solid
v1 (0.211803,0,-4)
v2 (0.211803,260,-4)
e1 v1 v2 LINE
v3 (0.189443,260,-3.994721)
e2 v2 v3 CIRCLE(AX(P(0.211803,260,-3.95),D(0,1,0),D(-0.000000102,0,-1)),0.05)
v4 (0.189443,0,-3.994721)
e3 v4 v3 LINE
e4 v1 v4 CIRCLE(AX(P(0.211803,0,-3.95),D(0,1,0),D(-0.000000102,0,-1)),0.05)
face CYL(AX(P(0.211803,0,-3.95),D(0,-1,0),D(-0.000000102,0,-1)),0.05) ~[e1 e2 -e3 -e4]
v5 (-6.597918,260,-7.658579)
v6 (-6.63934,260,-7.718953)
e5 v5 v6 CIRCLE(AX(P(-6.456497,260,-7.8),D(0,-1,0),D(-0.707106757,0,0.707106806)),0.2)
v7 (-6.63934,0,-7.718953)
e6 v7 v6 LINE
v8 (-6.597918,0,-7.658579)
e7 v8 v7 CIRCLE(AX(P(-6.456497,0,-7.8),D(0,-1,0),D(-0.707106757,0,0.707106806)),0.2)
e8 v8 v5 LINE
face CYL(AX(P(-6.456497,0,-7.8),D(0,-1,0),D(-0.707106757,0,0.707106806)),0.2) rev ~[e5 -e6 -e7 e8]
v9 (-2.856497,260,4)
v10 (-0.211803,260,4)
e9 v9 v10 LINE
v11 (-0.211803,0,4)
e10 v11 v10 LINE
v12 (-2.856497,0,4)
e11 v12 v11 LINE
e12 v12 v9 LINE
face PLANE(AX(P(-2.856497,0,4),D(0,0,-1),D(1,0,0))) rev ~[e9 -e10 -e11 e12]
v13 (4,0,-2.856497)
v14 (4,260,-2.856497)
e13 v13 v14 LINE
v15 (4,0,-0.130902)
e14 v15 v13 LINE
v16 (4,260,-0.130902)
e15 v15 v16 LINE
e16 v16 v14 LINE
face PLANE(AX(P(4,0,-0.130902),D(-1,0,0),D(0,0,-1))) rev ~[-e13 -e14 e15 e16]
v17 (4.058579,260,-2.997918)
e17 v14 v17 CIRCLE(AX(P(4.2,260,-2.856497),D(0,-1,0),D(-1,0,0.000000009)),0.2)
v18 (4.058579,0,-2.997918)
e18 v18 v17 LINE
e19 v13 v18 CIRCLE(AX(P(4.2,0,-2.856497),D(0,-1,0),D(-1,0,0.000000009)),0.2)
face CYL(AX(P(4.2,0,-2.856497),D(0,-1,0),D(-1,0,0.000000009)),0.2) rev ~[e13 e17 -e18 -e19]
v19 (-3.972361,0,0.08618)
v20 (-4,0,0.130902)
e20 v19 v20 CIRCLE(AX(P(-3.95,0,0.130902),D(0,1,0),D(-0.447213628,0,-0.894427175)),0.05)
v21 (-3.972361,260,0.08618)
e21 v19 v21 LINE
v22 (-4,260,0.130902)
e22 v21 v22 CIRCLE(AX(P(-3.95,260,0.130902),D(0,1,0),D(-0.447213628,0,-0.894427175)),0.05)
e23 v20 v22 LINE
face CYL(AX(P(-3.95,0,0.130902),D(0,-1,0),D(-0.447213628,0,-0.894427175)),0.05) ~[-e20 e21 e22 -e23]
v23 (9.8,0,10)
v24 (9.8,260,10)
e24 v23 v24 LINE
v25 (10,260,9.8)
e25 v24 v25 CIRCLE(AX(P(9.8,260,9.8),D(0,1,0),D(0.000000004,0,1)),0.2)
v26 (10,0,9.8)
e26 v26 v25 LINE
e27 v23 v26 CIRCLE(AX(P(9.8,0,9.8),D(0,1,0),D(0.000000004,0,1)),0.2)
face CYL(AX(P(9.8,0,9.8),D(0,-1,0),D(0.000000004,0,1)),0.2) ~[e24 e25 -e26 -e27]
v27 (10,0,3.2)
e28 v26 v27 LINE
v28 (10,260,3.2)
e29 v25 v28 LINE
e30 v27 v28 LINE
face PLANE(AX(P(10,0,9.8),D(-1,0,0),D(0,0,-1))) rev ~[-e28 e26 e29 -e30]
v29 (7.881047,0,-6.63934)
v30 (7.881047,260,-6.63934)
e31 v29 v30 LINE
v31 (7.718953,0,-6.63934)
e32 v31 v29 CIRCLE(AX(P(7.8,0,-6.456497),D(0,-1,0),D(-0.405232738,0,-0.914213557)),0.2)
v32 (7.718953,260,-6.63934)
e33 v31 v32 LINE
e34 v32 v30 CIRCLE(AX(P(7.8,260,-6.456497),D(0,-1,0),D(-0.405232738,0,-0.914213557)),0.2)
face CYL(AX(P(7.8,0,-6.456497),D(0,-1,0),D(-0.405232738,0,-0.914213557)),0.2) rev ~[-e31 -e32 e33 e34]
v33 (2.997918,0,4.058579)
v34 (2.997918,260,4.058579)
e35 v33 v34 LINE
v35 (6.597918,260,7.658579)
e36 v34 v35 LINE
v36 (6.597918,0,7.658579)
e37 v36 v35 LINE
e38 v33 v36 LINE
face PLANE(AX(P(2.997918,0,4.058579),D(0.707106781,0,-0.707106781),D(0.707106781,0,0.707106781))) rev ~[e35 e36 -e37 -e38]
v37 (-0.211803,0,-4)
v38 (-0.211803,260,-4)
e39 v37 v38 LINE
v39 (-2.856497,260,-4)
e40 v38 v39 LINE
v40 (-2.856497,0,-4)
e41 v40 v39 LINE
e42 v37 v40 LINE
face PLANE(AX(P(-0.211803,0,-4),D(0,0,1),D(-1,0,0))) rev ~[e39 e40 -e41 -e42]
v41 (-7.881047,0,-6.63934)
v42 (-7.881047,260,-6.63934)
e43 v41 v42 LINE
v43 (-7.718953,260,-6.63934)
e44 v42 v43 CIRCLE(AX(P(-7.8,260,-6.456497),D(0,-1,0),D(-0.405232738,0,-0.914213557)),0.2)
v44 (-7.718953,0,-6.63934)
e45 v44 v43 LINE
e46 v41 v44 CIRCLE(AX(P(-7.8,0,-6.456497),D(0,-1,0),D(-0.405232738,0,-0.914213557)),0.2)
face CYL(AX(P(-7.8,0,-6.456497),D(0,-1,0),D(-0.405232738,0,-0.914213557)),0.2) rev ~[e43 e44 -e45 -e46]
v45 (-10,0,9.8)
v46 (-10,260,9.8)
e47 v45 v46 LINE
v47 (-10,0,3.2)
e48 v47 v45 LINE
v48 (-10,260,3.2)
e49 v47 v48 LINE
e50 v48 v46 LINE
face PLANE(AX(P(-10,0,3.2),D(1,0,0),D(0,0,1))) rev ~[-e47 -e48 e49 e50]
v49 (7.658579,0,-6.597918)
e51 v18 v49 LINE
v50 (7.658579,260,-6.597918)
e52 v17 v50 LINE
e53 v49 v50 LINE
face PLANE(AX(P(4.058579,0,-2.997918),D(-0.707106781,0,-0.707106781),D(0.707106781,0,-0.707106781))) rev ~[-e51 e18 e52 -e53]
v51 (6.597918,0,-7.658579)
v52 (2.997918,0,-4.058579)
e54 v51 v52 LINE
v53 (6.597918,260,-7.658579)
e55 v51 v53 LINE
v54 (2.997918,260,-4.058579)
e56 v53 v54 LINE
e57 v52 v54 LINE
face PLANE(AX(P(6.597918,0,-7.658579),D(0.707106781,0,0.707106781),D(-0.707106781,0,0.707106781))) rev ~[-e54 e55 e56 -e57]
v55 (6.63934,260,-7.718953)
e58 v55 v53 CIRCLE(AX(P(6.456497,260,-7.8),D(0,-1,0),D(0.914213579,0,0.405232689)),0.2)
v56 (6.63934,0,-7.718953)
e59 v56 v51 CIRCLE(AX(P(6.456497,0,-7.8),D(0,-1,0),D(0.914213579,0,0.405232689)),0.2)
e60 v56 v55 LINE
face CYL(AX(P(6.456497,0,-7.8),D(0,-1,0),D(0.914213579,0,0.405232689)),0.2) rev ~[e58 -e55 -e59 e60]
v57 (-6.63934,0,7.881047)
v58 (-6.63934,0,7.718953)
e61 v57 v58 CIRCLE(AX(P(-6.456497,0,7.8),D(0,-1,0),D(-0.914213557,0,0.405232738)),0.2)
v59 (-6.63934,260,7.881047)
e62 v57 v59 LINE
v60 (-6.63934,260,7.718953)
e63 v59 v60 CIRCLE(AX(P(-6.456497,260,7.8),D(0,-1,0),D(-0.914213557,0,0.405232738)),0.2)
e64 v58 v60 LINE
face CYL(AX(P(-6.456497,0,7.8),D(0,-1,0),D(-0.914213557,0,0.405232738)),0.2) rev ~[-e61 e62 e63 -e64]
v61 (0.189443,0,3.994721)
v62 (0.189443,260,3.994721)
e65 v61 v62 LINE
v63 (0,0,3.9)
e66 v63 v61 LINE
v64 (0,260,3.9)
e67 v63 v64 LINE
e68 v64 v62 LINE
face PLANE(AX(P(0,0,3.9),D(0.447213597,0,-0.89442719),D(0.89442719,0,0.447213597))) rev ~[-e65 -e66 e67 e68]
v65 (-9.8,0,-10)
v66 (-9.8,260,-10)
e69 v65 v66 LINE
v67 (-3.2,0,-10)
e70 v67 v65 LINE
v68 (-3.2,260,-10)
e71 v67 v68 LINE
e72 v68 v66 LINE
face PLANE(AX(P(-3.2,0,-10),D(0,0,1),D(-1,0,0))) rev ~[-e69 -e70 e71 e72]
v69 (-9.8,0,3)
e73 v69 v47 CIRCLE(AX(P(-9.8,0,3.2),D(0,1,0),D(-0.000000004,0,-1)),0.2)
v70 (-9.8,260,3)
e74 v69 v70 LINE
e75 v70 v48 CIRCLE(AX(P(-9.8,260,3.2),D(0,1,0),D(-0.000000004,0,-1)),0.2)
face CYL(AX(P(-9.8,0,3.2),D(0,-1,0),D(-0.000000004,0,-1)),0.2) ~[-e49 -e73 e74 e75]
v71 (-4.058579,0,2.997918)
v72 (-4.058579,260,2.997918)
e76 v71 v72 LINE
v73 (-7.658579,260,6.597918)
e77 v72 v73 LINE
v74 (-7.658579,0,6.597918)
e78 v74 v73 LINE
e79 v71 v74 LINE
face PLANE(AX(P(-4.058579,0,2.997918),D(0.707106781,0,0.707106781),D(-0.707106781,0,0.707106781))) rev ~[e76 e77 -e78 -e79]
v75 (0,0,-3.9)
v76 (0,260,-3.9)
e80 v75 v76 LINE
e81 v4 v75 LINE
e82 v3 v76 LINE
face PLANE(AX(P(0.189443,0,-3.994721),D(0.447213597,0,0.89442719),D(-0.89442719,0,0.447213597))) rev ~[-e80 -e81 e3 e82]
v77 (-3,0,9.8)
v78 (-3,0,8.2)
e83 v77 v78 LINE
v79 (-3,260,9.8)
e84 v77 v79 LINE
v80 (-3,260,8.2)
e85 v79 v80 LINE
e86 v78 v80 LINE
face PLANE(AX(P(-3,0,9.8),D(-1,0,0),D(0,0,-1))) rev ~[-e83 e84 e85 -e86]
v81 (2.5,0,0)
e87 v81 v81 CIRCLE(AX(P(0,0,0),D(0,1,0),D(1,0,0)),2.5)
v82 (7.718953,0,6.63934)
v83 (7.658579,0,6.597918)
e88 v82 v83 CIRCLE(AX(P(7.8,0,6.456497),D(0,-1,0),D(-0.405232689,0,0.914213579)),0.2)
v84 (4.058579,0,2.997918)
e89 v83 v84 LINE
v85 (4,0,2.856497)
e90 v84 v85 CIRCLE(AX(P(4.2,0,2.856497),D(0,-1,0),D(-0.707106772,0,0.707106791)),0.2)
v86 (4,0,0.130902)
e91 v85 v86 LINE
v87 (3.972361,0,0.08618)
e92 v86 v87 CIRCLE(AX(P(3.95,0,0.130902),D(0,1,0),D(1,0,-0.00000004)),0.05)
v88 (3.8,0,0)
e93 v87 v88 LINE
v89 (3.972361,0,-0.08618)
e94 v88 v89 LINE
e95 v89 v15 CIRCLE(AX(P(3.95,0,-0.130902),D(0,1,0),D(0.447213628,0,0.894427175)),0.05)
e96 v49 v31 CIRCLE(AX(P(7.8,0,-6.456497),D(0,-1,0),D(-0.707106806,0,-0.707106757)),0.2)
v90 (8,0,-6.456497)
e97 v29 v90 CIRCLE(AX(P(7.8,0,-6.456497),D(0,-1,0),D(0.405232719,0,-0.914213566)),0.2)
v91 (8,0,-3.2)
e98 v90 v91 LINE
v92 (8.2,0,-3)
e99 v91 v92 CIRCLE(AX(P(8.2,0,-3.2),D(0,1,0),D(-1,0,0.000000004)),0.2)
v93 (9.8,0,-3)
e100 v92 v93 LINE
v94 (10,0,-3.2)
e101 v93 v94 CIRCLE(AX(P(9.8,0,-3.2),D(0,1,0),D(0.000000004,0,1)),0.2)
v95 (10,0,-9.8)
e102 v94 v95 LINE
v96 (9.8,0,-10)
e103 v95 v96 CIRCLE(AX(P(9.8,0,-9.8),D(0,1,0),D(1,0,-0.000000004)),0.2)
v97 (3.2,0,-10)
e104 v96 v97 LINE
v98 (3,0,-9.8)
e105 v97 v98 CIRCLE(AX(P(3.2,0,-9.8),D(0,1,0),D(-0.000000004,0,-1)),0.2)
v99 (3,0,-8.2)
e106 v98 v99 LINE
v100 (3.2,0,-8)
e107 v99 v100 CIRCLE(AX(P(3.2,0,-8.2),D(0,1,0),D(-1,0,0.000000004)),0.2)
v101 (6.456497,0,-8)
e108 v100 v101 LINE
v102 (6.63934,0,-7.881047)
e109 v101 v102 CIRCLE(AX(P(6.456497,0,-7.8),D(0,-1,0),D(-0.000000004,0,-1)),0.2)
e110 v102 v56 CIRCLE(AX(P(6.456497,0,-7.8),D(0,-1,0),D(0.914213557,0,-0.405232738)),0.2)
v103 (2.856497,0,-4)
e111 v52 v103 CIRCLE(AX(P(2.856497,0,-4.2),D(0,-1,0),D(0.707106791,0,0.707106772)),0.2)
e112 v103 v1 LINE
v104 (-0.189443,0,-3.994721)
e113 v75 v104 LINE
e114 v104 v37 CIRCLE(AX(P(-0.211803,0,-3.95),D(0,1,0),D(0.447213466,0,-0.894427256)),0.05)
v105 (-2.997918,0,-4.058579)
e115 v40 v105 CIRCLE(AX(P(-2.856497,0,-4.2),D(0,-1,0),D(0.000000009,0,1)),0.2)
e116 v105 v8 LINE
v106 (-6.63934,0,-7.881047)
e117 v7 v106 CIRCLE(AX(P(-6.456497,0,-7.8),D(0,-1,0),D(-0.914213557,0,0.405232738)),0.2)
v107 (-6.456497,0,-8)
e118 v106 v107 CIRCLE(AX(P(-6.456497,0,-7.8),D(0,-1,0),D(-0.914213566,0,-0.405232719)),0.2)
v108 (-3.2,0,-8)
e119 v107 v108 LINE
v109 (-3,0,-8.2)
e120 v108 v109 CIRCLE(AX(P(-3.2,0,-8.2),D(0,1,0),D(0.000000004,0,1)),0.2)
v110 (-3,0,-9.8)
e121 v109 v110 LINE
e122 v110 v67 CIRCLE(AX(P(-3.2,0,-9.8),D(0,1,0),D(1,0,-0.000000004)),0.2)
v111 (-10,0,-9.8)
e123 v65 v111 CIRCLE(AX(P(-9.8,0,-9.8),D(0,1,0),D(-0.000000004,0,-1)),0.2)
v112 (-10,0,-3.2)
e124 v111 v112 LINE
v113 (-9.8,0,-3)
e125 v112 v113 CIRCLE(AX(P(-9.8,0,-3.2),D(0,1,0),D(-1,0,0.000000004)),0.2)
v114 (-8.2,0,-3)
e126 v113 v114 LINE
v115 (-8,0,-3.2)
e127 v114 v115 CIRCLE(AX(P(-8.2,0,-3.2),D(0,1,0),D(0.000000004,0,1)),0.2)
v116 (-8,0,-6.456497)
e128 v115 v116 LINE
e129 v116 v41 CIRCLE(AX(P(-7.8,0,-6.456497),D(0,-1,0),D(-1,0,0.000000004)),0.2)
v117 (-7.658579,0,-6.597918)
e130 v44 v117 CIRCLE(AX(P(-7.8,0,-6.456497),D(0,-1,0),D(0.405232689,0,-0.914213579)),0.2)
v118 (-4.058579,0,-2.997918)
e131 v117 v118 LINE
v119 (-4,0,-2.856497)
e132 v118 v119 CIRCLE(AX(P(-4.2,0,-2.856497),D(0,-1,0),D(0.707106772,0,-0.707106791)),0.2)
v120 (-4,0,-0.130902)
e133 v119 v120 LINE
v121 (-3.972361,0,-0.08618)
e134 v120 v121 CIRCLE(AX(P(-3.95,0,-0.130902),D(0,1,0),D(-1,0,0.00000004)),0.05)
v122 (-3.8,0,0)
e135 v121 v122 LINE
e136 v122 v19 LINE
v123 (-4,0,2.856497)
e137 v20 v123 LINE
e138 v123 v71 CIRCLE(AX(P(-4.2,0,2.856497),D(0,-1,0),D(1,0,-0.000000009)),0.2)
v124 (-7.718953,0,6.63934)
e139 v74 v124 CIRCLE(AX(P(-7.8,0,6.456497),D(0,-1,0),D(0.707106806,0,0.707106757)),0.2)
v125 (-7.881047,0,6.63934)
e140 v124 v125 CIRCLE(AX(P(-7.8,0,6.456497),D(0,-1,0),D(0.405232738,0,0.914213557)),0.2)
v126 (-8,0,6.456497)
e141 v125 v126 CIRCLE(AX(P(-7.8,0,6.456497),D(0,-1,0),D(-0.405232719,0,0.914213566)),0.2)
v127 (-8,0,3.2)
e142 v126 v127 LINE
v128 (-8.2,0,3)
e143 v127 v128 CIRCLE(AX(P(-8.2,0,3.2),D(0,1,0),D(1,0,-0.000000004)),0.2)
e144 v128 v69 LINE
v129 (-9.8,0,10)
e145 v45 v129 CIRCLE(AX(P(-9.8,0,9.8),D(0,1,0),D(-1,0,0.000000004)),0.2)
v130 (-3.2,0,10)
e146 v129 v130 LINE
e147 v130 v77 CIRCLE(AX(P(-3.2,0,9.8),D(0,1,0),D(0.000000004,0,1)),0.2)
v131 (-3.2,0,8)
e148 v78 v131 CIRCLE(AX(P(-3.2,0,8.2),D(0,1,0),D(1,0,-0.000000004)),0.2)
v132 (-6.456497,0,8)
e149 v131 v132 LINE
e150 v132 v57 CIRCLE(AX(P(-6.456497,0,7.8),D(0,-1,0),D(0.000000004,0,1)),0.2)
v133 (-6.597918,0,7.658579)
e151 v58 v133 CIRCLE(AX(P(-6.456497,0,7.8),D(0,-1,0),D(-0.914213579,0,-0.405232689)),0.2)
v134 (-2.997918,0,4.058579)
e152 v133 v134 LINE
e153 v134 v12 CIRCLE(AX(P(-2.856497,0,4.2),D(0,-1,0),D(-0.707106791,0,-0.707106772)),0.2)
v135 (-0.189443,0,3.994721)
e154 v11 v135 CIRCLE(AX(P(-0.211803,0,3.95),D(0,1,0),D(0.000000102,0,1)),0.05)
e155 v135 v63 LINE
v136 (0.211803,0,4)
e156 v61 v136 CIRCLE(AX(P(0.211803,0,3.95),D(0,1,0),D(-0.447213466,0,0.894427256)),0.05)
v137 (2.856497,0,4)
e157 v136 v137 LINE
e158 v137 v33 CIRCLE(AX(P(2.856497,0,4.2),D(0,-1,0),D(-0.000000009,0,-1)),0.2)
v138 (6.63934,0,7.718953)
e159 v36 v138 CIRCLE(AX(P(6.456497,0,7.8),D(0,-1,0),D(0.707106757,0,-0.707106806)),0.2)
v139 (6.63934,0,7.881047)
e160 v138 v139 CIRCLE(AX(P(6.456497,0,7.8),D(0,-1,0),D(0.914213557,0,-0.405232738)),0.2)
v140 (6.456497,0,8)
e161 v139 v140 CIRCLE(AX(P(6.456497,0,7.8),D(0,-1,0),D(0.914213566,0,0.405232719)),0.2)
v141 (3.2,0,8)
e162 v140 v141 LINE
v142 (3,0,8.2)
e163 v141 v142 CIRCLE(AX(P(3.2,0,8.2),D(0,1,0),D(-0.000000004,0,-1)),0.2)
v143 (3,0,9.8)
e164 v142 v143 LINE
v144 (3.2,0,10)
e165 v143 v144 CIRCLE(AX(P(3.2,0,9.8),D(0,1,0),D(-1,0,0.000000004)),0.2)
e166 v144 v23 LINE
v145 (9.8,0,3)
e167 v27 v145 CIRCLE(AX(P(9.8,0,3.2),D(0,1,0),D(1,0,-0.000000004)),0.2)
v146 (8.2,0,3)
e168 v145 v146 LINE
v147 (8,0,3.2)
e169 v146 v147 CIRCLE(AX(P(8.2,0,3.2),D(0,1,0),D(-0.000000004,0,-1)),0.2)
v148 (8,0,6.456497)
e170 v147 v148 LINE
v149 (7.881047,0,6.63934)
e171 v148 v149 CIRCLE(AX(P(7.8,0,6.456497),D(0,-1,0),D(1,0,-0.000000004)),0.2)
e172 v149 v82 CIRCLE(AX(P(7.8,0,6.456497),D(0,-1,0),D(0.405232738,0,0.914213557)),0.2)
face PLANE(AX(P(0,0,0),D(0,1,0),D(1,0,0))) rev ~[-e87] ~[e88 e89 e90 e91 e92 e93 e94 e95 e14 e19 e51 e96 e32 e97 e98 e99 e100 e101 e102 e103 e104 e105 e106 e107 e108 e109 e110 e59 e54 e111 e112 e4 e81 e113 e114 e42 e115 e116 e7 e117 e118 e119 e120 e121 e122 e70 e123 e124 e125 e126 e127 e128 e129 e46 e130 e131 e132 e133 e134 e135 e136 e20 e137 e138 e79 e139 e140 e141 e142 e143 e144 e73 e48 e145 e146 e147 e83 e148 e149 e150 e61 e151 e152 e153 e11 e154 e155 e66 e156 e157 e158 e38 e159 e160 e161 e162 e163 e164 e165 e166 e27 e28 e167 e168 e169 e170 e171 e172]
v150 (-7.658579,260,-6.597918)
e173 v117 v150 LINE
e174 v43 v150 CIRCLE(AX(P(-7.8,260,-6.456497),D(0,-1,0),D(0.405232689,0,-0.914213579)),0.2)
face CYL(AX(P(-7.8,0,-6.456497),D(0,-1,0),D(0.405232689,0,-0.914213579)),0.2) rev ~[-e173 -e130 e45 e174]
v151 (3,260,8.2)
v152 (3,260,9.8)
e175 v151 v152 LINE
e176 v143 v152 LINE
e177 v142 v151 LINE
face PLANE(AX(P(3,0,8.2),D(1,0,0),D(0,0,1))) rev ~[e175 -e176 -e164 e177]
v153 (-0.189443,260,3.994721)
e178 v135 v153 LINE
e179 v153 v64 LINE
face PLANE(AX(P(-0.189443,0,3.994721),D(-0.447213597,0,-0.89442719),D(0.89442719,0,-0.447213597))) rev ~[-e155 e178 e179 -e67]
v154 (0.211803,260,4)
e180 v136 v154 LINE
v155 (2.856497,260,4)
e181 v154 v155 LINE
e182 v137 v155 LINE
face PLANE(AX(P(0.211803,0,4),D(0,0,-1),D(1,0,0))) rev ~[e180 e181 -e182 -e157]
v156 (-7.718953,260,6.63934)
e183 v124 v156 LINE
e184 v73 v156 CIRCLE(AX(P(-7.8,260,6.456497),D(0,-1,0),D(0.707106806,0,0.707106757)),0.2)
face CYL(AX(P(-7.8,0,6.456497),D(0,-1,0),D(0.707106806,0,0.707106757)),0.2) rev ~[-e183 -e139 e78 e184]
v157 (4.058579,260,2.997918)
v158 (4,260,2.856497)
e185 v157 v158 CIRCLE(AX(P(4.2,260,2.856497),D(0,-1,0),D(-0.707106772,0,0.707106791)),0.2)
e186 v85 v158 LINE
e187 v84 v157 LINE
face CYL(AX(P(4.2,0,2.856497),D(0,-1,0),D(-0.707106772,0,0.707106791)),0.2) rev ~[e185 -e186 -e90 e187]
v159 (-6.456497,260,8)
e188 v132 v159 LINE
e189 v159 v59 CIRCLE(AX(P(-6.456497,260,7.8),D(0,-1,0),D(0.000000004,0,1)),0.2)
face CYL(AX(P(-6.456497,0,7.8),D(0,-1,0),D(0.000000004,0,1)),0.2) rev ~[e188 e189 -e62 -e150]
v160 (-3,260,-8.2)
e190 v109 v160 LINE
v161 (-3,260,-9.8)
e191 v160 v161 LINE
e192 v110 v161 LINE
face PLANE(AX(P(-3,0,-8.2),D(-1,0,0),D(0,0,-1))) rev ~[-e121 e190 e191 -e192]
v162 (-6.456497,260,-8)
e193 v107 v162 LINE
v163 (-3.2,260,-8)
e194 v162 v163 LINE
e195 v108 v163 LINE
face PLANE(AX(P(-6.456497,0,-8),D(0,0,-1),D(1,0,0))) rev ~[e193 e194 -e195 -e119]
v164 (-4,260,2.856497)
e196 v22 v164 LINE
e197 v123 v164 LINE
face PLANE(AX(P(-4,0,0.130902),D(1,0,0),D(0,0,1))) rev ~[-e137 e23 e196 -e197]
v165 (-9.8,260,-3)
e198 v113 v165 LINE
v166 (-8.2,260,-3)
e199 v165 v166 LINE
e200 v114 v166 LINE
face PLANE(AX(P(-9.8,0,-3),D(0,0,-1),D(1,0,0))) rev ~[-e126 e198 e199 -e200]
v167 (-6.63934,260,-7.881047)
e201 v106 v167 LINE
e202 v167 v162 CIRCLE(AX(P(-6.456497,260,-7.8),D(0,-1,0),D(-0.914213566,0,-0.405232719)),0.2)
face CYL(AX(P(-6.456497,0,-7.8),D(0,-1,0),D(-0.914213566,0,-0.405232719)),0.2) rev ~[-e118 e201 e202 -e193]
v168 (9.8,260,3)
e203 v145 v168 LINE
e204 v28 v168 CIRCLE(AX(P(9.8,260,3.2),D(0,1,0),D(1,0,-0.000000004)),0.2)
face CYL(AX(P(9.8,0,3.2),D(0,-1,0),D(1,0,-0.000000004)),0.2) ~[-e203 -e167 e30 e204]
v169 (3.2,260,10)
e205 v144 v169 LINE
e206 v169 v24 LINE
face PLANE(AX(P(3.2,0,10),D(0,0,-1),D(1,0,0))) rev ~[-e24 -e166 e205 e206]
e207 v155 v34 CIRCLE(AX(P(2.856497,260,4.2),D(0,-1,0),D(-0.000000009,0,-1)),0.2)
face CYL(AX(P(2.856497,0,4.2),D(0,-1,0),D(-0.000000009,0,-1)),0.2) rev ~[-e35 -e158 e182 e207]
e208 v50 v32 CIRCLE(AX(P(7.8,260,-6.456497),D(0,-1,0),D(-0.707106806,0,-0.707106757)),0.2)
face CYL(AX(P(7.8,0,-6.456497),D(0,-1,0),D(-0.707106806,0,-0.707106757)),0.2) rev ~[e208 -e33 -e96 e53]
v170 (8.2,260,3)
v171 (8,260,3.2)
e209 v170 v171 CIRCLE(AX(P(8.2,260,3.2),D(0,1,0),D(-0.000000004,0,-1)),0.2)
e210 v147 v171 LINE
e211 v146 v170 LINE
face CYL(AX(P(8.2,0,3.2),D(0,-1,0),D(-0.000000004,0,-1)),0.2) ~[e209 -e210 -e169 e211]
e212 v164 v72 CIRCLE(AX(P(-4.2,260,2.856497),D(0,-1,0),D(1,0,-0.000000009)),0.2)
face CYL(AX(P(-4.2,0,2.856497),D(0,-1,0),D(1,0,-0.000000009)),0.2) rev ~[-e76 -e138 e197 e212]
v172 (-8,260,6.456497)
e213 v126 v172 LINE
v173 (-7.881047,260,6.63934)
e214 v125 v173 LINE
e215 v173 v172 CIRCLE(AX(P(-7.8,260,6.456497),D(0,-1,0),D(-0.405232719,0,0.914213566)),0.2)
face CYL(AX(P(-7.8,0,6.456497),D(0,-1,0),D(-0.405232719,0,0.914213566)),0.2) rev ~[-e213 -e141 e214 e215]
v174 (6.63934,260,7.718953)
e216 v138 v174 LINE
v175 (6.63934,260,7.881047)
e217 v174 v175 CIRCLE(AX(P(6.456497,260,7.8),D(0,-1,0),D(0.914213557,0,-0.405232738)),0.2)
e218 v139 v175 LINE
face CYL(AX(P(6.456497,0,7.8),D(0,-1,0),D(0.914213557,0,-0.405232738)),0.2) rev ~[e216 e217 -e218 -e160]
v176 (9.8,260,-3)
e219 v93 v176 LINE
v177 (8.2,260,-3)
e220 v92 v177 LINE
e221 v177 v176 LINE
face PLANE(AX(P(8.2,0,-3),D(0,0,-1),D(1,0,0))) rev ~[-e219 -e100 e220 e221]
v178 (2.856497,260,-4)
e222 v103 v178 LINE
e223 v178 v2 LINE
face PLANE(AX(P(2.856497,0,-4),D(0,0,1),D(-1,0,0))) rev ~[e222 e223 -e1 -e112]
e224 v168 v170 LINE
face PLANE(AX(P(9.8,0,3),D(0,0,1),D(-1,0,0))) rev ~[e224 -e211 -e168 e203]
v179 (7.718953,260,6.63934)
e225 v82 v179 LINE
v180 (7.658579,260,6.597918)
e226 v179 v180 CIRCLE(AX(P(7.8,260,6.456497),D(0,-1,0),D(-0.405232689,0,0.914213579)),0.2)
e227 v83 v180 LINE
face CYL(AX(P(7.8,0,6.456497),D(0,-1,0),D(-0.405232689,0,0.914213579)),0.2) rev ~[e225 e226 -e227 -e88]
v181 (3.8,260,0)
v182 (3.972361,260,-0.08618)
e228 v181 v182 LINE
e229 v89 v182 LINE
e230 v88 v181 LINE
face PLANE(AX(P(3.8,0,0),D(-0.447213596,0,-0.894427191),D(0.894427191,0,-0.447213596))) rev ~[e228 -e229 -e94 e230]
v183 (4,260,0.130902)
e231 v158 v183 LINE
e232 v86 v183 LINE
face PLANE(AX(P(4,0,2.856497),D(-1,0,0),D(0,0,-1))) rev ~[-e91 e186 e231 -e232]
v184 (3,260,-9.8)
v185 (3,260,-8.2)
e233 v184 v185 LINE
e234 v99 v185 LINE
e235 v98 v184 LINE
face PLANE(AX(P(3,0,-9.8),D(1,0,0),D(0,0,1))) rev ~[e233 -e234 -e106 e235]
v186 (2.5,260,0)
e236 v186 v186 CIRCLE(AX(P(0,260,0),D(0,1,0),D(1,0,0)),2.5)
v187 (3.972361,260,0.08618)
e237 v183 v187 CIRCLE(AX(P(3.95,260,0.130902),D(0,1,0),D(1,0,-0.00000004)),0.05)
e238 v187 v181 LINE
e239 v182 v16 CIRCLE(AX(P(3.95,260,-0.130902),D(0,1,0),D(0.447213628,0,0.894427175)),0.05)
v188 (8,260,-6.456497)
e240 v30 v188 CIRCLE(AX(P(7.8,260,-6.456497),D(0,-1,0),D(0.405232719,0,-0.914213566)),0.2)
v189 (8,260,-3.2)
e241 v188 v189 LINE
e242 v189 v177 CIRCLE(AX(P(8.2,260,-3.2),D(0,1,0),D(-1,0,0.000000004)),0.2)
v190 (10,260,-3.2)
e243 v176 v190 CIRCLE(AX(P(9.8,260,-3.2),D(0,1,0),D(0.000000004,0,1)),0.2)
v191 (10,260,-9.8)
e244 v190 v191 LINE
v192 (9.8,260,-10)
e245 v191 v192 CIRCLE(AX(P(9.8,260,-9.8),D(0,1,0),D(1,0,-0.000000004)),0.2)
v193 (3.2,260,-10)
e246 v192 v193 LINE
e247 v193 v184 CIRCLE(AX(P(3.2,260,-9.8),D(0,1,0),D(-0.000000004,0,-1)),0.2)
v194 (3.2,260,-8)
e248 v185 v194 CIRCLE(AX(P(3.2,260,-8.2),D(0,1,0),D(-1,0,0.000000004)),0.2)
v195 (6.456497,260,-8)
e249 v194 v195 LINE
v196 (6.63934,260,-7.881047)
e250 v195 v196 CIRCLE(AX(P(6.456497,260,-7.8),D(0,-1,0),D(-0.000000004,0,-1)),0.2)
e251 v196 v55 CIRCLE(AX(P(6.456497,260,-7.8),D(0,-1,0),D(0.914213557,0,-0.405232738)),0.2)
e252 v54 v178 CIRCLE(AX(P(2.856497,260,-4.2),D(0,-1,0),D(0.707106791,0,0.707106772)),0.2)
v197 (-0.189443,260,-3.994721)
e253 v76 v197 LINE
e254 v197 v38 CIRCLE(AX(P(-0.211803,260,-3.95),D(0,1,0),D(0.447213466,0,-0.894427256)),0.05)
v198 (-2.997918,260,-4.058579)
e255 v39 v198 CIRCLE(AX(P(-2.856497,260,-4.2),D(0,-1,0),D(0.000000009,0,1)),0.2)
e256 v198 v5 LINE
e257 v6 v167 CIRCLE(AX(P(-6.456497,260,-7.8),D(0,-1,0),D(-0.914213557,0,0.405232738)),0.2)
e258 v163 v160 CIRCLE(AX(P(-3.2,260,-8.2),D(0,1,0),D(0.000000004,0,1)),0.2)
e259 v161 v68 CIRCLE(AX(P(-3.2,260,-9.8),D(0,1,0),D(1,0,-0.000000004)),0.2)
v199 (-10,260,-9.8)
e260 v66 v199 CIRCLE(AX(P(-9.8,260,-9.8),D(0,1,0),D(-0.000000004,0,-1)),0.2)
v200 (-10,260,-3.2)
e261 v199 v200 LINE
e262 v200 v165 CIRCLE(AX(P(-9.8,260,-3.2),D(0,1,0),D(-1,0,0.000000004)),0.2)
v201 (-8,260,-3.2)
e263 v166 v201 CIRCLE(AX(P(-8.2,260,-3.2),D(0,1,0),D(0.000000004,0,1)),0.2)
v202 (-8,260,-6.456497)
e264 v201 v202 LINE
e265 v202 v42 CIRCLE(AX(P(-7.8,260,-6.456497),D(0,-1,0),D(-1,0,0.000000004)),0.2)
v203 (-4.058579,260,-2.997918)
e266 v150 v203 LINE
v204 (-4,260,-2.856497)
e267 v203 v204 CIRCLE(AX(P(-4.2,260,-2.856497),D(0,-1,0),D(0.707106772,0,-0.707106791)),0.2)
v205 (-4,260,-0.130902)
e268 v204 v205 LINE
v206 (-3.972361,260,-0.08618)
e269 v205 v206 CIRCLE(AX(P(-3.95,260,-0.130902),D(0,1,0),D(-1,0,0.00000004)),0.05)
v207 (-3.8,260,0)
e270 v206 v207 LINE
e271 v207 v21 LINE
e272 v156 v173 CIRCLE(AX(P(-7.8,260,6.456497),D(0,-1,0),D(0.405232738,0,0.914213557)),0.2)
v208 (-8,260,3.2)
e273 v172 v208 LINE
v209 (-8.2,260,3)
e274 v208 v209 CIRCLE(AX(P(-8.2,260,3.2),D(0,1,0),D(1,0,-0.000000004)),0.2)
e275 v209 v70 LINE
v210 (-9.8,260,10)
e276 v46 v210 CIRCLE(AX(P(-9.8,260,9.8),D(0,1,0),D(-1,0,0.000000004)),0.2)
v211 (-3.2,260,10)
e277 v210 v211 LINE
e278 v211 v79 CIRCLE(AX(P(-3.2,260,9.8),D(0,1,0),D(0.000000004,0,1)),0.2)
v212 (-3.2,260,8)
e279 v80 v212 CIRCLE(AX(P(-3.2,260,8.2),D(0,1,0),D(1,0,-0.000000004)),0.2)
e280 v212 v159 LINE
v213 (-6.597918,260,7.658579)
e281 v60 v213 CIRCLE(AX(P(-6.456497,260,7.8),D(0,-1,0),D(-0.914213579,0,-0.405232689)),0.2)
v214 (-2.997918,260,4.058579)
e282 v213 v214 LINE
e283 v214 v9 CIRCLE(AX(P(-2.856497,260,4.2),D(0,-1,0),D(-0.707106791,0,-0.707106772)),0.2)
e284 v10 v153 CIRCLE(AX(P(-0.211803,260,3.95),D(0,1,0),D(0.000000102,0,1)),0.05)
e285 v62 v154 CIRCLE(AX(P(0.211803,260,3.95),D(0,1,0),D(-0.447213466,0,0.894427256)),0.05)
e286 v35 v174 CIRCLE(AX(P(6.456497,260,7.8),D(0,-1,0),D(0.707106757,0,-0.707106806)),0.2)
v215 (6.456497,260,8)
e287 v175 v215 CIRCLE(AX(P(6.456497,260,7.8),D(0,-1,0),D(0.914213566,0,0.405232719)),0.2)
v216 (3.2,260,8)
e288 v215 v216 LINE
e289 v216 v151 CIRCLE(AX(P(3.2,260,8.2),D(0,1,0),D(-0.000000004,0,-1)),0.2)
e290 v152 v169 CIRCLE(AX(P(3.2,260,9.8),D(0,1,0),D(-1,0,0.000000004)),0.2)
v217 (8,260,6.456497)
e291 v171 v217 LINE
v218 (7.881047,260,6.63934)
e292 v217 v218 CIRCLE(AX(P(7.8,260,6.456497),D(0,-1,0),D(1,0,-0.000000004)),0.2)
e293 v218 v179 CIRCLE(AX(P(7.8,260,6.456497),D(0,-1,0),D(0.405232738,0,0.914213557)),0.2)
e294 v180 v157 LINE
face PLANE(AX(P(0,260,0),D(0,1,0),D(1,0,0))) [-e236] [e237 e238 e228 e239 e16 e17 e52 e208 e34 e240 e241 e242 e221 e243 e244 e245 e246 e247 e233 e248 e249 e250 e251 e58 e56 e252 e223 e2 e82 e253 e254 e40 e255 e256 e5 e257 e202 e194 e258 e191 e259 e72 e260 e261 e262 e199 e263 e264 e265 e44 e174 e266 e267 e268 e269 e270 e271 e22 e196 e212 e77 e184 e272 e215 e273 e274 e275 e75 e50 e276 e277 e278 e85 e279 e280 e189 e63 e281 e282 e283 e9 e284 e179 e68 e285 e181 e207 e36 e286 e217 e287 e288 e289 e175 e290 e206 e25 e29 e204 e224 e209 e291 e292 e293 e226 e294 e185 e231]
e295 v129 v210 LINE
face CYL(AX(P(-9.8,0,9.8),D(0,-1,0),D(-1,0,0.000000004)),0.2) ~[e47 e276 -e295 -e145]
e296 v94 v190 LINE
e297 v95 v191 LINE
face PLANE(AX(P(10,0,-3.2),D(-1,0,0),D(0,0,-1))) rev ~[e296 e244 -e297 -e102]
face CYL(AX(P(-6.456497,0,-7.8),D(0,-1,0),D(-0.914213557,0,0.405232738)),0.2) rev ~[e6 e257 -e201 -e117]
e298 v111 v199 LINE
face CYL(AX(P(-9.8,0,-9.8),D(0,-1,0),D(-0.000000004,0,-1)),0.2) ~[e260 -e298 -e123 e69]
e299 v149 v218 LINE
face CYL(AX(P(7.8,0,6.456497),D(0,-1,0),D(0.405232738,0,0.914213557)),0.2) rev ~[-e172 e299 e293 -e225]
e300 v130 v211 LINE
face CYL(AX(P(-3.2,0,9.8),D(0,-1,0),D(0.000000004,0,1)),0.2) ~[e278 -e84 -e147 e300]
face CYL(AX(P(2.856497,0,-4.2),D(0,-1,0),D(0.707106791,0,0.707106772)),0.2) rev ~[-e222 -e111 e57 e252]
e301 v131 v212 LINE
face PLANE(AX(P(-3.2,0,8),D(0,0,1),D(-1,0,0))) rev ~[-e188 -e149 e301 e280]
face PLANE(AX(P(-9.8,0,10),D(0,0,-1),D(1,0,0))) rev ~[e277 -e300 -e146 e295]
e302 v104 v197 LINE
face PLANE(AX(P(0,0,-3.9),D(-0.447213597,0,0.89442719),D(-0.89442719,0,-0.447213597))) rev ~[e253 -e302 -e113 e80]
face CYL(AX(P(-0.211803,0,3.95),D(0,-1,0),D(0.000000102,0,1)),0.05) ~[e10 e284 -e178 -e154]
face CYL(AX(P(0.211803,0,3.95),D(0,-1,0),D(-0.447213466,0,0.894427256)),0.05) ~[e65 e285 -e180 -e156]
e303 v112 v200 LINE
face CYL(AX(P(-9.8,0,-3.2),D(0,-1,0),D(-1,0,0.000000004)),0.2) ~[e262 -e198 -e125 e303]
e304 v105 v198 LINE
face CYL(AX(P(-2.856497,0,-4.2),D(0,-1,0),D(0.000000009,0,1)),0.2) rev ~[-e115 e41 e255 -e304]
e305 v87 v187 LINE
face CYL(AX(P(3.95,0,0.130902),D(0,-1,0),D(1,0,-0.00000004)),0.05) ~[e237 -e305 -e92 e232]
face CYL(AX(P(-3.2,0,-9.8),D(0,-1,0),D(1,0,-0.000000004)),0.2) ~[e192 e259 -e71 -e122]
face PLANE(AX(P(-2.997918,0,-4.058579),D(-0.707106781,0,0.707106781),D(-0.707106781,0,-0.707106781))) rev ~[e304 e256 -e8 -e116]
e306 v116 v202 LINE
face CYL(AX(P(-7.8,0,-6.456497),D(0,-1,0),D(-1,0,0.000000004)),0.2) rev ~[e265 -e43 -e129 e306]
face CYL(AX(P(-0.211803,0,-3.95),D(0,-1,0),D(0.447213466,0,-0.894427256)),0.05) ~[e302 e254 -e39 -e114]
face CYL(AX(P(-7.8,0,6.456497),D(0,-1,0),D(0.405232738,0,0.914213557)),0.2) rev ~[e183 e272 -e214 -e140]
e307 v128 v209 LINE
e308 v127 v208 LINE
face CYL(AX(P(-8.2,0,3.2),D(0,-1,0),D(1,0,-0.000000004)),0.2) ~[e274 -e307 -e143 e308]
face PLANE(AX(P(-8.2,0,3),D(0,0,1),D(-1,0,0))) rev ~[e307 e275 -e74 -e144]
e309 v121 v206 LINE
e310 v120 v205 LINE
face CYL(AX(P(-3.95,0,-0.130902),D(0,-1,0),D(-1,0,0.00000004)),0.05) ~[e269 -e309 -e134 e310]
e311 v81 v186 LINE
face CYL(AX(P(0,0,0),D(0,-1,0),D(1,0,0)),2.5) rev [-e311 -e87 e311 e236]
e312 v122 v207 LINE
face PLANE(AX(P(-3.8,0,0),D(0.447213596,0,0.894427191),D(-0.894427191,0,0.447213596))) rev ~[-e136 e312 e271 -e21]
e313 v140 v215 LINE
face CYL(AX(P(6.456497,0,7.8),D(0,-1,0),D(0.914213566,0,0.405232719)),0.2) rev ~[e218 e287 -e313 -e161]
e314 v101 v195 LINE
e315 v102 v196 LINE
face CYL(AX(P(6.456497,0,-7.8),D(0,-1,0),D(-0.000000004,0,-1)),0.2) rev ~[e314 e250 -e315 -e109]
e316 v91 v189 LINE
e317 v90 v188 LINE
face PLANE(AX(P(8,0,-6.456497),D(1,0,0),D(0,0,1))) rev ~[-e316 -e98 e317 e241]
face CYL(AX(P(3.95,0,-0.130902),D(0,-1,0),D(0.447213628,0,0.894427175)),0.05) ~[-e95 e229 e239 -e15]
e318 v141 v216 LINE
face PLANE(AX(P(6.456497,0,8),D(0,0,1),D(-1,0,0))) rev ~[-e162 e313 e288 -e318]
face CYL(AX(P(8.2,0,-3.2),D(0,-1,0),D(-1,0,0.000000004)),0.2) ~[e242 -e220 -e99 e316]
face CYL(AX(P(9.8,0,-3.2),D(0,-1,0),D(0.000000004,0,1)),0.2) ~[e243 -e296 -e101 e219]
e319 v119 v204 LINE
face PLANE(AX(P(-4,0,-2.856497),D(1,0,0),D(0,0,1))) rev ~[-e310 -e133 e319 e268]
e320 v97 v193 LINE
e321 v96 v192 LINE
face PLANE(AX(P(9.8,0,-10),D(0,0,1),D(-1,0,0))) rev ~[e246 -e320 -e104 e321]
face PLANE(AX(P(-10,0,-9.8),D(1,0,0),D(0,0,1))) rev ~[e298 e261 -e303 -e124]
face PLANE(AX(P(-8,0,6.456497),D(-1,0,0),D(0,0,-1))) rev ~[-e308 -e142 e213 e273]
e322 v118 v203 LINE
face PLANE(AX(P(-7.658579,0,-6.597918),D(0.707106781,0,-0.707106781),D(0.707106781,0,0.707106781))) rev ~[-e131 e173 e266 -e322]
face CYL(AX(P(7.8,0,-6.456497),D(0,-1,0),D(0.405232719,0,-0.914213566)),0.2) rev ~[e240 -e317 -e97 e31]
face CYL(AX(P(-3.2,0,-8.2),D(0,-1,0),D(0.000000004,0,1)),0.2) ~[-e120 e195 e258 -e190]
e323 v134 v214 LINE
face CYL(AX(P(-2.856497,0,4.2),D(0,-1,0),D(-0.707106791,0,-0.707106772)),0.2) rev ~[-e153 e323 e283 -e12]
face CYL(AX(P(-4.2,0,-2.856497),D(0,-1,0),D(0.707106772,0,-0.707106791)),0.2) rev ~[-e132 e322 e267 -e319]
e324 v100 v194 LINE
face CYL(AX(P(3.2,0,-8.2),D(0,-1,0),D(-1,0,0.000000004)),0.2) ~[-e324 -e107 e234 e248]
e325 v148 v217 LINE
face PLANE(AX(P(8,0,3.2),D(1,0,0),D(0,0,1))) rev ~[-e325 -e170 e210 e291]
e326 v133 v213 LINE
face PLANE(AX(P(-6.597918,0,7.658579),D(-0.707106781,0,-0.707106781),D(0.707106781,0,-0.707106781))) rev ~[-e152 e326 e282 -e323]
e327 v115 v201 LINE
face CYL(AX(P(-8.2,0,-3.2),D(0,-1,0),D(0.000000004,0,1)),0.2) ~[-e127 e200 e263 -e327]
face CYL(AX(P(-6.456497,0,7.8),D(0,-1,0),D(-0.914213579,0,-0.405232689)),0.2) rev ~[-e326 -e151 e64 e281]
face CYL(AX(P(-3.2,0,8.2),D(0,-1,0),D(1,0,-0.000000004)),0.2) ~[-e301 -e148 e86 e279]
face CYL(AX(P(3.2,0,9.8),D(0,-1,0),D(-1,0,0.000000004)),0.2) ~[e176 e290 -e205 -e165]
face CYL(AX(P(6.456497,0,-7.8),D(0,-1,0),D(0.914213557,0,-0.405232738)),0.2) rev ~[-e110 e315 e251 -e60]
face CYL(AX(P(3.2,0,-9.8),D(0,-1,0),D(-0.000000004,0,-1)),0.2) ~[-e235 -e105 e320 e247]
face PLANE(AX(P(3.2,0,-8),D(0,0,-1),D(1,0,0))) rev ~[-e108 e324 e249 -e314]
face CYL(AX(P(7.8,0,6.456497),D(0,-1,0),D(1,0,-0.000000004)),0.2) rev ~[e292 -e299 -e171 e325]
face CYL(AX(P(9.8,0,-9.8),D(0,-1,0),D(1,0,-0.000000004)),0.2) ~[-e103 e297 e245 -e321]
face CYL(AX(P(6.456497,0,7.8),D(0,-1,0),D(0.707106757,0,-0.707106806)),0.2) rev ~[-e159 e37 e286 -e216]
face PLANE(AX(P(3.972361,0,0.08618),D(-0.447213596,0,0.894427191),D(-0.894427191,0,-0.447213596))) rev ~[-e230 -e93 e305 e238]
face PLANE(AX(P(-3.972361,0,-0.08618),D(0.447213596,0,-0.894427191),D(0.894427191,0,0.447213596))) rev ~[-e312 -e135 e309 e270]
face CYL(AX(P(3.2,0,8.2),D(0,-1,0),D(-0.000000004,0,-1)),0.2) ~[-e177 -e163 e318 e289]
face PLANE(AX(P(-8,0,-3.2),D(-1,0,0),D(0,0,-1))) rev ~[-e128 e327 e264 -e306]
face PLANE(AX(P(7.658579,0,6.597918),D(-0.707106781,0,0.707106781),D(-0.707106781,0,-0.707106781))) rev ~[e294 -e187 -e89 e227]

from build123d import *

# Parameters (mm, degrees)
SKETCH1_R           = 2.5
BOSS_EXTRUDE1_DEPTH = 260


with BuildPart() as part:
    # Sketch1 → Boss-Extrude1 (new body)
    with BuildSketch(Plane(origin=(0, 0, 0), x_dir=(1, 0, 0), z_dir=(0, 1, 0))):
        with BuildLine():
            Line((-2.997918472, 4.058578644), (-6.597918472, 7.658578644))
            ThreePointArc((-6.597918472, 7.658578644), (-6.621415508, 7.686854412), (-6.639339828, 7.718953455))
            ThreePointArc((-6.639339828, 7.718953455), (-6.656497116, 7.8), (-6.639339828, 7.881046545))
            ThreePointArc((-6.639339828, 7.881046545), (-6.565562901, 7.967644429), (-6.456497116, 8))
            Line((-6.456497116, 8), (-3.2, 8))
            ThreePointArc((-3.2, 8), (-3.058578644, 8.058578644), (-3, 8.2))
            Line((-3, 8.2), (-3, 9.8))
            ThreePointArc((-3, 9.8), (-3.058578644, 9.941421356), (-3.2, 10))
            Line((-3.2, 10), (-9.8, 10))
            ThreePointArc((-9.8, 10), (-9.941421356, 9.941421356), (-10, 9.8))
            Line((-10, 9.8), (-10, 3.2))
            ThreePointArc((-10, 3.2), (-9.941421356, 3.058578644), (-9.8, 3))
            Line((-9.8, 3), (-8.2, 3))
            ThreePointArc((-8.2, 3), (-8.058578644, 3.058578644), (-8, 3.2))
            Line((-8, 3.2), (-8, 6.456497116))
            ThreePointArc((-8, 6.456497116), (-7.967644429, 6.565562901), (-7.881046545, 6.639339828))
            ThreePointArc((-7.881046545, 6.639339828), (-7.8, 6.656497116), (-7.718953455, 6.639339828))
            ThreePointArc((-7.718953455, 6.639339828), (-7.686854412, 6.621415508), (-7.658578644, 6.597918472))
            Line((-7.658578644, 6.597918472), (-4.058578644, 2.997918472))
            ThreePointArc((-4.058578644, 2.997918472), (-4.015224093, 2.933033802), (-4, 2.856497116))
            Line((-4, 2.856497116), (-4, 0.130901699))
            ThreePointArc((-4, 0.130901699), (-3.99253254, 0.104615144), (-3.97236068, 0.08618034))
            Line((-3.97236068, 0.08618034), (-3.8, 0))
            Line((-3.8, 0), (-3.97236068, -0.08618034))
            ThreePointArc((-3.97236068, -0.08618034), (-3.99253254, -0.104615144), (-4, -0.130901699))
            Line((-4, -0.130901699), (-4, -2.856497116))
            ThreePointArc((-4, -2.856497116), (-4.015224093, -2.933033802), (-4.058578644, -2.997918472))
            Line((-4.058578644, -2.997918472), (-7.658578644, -6.597918472))
            ThreePointArc((-7.658578644, -6.597918472), (-7.686854412, -6.621415508), (-7.718953455, -6.639339828))
            ThreePointArc((-7.718953455, -6.639339828), (-7.8, -6.656497116), (-7.881046545, -6.639339828))
            ThreePointArc((-7.881046545, -6.639339828), (-7.967644429, -6.565562901), (-8, -6.456497116))
            Line((-8, -6.456497116), (-8, -3.2))
            ThreePointArc((-8, -3.2), (-8.058578644, -3.058578644), (-8.2, -3))
            Line((-8.2, -3), (-9.8, -3))
            ThreePointArc((-9.8, -3), (-9.941421356, -3.058578644), (-10, -3.2))
            Line((-10, -3.2), (-10, -9.8))
            ThreePointArc((-10, -9.8), (-9.941421356, -9.941421356), (-9.8, -10))
            Line((-9.8, -10), (-3.2, -10))
            ThreePointArc((-3.2, -10), (-3.058578644, -9.941421356), (-3, -9.8))
            Line((-3, -9.8), (-3, -8.2))
            ThreePointArc((-3, -8.2), (-3.058578644, -8.058578644), (-3.2, -8))
            Line((-3.2, -8), (-6.456497116, -8))
            ThreePointArc((-6.456497116, -8), (-6.565562901, -7.967644429), (-6.639339828, -7.881046545))
            ThreePointArc((-6.639339828, -7.881046545), (-6.656497116, -7.8), (-6.639339828, -7.718953455))
            ThreePointArc((-6.639339828, -7.718953455), (-6.621415508, -7.686854412), (-6.597918472, -7.658578644))
            Line((-6.597918472, -7.658578644), (-2.997918472, -4.058578644))
            ThreePointArc((-2.997918472, -4.058578644), (-2.933033802, -4.015224093), (-2.856497116, -4))
            Line((-2.856497116, -4), (-0.211803399, -4))
            ThreePointArc((-0.211803399, -4), (-0.200315753, -3.998662449), (-0.189442719, -3.99472136))
            Line((-0.189442719, -3.99472136), (0, -3.9))
            Line((0, -3.9), (0.189442719, -3.99472136))
            ThreePointArc((0.189442719, -3.99472136), (0.200315753, -3.998662449), (0.211803399, -4))
            Line((0.211803399, -4), (2.856497116, -4))
            ThreePointArc((2.856497116, -4), (2.933033802, -4.015224093), (2.997918472, -4.058578644))
            Line((2.997918472, -4.058578644), (6.597918472, -7.658578644))
            ThreePointArc((6.597918472, -7.658578644), (6.621415508, -7.686854412), (6.639339828, -7.718953455))
            ThreePointArc((6.639339828, -7.718953455), (6.656497116, -7.8), (6.639339828, -7.881046545))
            ThreePointArc((6.639339828, -7.881046545), (6.565562901, -7.967644429), (6.456497116, -8))
            Line((6.456497116, -8), (3.2, -8))
            ThreePointArc((3.2, -8), (3.058578644, -8.058578644), (3, -8.2))
            Line((3, -8.2), (3, -9.8))
            ThreePointArc((3, -9.8), (3.058578644, -9.941421356), (3.2, -10))
            Line((3.2, -10), (9.8, -10))
            ThreePointArc((9.8, -10), (9.941421356, -9.941421356), (10, -9.8))
            Line((10, -9.8), (10, -3.2))
            ThreePointArc((10, -3.2), (9.941421356, -3.058578644), (9.8, -3))
            Line((9.8, -3), (8.2, -3))
            ThreePointArc((8.2, -3), (8.058578644, -3.058578644), (8, -3.2))
            Line((8, -3.2), (8, -6.456497116))
            ThreePointArc((8, -6.456497116), (7.967644429, -6.565562901), (7.881046545, -6.639339828))
            ThreePointArc((7.881046545, -6.639339828), (7.8, -6.656497116), (7.718953455, -6.639339828))
            ThreePointArc((7.718953455, -6.639339828), (7.686854412, -6.621415508), (7.658578644, -6.597918472))
            Line((7.658578644, -6.597918472), (4.058578644, -2.997918472))
            ThreePointArc((4.058578644, -2.997918472), (4.015224093, -2.933033802), (4, -2.856497116))
            Line((4, -2.856497116), (4, -0.130901699))
            ThreePointArc((4, -0.130901699), (3.99253254, -0.104615144), (3.97236068, -0.08618034))
            Line((3.97236068, -0.08618034), (3.8, 0))
            Line((3.8, 0), (3.97236068, 0.08618034))
            ThreePointArc((3.97236068, 0.08618034), (3.99253254, 0.104615144), (4, 0.130901699))
            Line((4, 0.130901699), (4, 2.856497116))
            ThreePointArc((4, 2.856497116), (4.015224093, 2.933033802), (4.058578644, 2.997918472))
            Line((4.058578644, 2.997918472), (7.658578644, 6.597918472))
            ThreePointArc((7.658578644, 6.597918472), (7.686854412, 6.621415508), (7.718953455, 6.639339828))
            ThreePointArc((7.718953455, 6.639339828), (7.8, 6.656497116), (7.881046545, 6.639339828))
            ThreePointArc((7.881046545, 6.639339828), (7.967644429, 6.565562901), (8, 6.456497116))
            Line((8, 6.456497116), (8, 3.2))
            ThreePointArc((8, 3.2), (8.058578644, 3.058578644), (8.2, 3))
            Line((8.2, 3), (9.8, 3))
            ThreePointArc((9.8, 3), (9.941421356, 3.058578644), (10, 3.2))
            Line((10, 3.2), (10, 9.8))
            ThreePointArc((10, 9.8), (9.941421356, 9.941421356), (9.8, 10))
            Line((9.8, 10), (3.2, 10))
            ThreePointArc((3.2, 10), (3.058578644, 9.941421356), (3, 9.8))
            Line((3, 9.8), (3, 8.2))
            ThreePointArc((3, 8.2), (3.058578644, 8.058578644), (3.2, 8))
            Line((3.2, 8), (6.456497116, 8))
            ThreePointArc((6.456497116, 8), (6.565562901, 7.967644429), (6.639339828, 7.881046545))
            ThreePointArc((6.639339828, 7.881046545), (6.656497116, 7.8), (6.639339828, 7.718953455))
            ThreePointArc((6.639339828, 7.718953455), (6.621415508, 7.686854412), (6.597918472, 7.658578644))
            Line((6.597918472, 7.658578644), (2.997918472, 4.058578644))
            ThreePointArc((2.997918472, 4.058578644), (2.933033802, 4.015224093), (2.856497116, 4))
            Line((2.856497116, 4), (0.211803399, 4))
            ThreePointArc((0.211803399, 4), (0.200315753, 3.998662449), (0.189442719, 3.99472136))
            Line((0.189442719, 3.99472136), (0, 3.9))
            Line((0, 3.9), (-0.189442719, 3.99472136))
            ThreePointArc((-0.189442719, 3.99472136), (-0.200315753, 3.998662449), (-0.211803399, 4))
            Line((-0.211803399, 4), (-2.856497116, 4))
            ThreePointArc((-2.856497116, 4), (-2.933033802, 4.015224093), (-2.997918472, 4.058578644))
        make_face()
        Circle(SKETCH1_R, mode=Mode.SUBTRACT)
    extrude(amount=BOSS_EXTRUDE1_DEPTH)


solid = part.part
